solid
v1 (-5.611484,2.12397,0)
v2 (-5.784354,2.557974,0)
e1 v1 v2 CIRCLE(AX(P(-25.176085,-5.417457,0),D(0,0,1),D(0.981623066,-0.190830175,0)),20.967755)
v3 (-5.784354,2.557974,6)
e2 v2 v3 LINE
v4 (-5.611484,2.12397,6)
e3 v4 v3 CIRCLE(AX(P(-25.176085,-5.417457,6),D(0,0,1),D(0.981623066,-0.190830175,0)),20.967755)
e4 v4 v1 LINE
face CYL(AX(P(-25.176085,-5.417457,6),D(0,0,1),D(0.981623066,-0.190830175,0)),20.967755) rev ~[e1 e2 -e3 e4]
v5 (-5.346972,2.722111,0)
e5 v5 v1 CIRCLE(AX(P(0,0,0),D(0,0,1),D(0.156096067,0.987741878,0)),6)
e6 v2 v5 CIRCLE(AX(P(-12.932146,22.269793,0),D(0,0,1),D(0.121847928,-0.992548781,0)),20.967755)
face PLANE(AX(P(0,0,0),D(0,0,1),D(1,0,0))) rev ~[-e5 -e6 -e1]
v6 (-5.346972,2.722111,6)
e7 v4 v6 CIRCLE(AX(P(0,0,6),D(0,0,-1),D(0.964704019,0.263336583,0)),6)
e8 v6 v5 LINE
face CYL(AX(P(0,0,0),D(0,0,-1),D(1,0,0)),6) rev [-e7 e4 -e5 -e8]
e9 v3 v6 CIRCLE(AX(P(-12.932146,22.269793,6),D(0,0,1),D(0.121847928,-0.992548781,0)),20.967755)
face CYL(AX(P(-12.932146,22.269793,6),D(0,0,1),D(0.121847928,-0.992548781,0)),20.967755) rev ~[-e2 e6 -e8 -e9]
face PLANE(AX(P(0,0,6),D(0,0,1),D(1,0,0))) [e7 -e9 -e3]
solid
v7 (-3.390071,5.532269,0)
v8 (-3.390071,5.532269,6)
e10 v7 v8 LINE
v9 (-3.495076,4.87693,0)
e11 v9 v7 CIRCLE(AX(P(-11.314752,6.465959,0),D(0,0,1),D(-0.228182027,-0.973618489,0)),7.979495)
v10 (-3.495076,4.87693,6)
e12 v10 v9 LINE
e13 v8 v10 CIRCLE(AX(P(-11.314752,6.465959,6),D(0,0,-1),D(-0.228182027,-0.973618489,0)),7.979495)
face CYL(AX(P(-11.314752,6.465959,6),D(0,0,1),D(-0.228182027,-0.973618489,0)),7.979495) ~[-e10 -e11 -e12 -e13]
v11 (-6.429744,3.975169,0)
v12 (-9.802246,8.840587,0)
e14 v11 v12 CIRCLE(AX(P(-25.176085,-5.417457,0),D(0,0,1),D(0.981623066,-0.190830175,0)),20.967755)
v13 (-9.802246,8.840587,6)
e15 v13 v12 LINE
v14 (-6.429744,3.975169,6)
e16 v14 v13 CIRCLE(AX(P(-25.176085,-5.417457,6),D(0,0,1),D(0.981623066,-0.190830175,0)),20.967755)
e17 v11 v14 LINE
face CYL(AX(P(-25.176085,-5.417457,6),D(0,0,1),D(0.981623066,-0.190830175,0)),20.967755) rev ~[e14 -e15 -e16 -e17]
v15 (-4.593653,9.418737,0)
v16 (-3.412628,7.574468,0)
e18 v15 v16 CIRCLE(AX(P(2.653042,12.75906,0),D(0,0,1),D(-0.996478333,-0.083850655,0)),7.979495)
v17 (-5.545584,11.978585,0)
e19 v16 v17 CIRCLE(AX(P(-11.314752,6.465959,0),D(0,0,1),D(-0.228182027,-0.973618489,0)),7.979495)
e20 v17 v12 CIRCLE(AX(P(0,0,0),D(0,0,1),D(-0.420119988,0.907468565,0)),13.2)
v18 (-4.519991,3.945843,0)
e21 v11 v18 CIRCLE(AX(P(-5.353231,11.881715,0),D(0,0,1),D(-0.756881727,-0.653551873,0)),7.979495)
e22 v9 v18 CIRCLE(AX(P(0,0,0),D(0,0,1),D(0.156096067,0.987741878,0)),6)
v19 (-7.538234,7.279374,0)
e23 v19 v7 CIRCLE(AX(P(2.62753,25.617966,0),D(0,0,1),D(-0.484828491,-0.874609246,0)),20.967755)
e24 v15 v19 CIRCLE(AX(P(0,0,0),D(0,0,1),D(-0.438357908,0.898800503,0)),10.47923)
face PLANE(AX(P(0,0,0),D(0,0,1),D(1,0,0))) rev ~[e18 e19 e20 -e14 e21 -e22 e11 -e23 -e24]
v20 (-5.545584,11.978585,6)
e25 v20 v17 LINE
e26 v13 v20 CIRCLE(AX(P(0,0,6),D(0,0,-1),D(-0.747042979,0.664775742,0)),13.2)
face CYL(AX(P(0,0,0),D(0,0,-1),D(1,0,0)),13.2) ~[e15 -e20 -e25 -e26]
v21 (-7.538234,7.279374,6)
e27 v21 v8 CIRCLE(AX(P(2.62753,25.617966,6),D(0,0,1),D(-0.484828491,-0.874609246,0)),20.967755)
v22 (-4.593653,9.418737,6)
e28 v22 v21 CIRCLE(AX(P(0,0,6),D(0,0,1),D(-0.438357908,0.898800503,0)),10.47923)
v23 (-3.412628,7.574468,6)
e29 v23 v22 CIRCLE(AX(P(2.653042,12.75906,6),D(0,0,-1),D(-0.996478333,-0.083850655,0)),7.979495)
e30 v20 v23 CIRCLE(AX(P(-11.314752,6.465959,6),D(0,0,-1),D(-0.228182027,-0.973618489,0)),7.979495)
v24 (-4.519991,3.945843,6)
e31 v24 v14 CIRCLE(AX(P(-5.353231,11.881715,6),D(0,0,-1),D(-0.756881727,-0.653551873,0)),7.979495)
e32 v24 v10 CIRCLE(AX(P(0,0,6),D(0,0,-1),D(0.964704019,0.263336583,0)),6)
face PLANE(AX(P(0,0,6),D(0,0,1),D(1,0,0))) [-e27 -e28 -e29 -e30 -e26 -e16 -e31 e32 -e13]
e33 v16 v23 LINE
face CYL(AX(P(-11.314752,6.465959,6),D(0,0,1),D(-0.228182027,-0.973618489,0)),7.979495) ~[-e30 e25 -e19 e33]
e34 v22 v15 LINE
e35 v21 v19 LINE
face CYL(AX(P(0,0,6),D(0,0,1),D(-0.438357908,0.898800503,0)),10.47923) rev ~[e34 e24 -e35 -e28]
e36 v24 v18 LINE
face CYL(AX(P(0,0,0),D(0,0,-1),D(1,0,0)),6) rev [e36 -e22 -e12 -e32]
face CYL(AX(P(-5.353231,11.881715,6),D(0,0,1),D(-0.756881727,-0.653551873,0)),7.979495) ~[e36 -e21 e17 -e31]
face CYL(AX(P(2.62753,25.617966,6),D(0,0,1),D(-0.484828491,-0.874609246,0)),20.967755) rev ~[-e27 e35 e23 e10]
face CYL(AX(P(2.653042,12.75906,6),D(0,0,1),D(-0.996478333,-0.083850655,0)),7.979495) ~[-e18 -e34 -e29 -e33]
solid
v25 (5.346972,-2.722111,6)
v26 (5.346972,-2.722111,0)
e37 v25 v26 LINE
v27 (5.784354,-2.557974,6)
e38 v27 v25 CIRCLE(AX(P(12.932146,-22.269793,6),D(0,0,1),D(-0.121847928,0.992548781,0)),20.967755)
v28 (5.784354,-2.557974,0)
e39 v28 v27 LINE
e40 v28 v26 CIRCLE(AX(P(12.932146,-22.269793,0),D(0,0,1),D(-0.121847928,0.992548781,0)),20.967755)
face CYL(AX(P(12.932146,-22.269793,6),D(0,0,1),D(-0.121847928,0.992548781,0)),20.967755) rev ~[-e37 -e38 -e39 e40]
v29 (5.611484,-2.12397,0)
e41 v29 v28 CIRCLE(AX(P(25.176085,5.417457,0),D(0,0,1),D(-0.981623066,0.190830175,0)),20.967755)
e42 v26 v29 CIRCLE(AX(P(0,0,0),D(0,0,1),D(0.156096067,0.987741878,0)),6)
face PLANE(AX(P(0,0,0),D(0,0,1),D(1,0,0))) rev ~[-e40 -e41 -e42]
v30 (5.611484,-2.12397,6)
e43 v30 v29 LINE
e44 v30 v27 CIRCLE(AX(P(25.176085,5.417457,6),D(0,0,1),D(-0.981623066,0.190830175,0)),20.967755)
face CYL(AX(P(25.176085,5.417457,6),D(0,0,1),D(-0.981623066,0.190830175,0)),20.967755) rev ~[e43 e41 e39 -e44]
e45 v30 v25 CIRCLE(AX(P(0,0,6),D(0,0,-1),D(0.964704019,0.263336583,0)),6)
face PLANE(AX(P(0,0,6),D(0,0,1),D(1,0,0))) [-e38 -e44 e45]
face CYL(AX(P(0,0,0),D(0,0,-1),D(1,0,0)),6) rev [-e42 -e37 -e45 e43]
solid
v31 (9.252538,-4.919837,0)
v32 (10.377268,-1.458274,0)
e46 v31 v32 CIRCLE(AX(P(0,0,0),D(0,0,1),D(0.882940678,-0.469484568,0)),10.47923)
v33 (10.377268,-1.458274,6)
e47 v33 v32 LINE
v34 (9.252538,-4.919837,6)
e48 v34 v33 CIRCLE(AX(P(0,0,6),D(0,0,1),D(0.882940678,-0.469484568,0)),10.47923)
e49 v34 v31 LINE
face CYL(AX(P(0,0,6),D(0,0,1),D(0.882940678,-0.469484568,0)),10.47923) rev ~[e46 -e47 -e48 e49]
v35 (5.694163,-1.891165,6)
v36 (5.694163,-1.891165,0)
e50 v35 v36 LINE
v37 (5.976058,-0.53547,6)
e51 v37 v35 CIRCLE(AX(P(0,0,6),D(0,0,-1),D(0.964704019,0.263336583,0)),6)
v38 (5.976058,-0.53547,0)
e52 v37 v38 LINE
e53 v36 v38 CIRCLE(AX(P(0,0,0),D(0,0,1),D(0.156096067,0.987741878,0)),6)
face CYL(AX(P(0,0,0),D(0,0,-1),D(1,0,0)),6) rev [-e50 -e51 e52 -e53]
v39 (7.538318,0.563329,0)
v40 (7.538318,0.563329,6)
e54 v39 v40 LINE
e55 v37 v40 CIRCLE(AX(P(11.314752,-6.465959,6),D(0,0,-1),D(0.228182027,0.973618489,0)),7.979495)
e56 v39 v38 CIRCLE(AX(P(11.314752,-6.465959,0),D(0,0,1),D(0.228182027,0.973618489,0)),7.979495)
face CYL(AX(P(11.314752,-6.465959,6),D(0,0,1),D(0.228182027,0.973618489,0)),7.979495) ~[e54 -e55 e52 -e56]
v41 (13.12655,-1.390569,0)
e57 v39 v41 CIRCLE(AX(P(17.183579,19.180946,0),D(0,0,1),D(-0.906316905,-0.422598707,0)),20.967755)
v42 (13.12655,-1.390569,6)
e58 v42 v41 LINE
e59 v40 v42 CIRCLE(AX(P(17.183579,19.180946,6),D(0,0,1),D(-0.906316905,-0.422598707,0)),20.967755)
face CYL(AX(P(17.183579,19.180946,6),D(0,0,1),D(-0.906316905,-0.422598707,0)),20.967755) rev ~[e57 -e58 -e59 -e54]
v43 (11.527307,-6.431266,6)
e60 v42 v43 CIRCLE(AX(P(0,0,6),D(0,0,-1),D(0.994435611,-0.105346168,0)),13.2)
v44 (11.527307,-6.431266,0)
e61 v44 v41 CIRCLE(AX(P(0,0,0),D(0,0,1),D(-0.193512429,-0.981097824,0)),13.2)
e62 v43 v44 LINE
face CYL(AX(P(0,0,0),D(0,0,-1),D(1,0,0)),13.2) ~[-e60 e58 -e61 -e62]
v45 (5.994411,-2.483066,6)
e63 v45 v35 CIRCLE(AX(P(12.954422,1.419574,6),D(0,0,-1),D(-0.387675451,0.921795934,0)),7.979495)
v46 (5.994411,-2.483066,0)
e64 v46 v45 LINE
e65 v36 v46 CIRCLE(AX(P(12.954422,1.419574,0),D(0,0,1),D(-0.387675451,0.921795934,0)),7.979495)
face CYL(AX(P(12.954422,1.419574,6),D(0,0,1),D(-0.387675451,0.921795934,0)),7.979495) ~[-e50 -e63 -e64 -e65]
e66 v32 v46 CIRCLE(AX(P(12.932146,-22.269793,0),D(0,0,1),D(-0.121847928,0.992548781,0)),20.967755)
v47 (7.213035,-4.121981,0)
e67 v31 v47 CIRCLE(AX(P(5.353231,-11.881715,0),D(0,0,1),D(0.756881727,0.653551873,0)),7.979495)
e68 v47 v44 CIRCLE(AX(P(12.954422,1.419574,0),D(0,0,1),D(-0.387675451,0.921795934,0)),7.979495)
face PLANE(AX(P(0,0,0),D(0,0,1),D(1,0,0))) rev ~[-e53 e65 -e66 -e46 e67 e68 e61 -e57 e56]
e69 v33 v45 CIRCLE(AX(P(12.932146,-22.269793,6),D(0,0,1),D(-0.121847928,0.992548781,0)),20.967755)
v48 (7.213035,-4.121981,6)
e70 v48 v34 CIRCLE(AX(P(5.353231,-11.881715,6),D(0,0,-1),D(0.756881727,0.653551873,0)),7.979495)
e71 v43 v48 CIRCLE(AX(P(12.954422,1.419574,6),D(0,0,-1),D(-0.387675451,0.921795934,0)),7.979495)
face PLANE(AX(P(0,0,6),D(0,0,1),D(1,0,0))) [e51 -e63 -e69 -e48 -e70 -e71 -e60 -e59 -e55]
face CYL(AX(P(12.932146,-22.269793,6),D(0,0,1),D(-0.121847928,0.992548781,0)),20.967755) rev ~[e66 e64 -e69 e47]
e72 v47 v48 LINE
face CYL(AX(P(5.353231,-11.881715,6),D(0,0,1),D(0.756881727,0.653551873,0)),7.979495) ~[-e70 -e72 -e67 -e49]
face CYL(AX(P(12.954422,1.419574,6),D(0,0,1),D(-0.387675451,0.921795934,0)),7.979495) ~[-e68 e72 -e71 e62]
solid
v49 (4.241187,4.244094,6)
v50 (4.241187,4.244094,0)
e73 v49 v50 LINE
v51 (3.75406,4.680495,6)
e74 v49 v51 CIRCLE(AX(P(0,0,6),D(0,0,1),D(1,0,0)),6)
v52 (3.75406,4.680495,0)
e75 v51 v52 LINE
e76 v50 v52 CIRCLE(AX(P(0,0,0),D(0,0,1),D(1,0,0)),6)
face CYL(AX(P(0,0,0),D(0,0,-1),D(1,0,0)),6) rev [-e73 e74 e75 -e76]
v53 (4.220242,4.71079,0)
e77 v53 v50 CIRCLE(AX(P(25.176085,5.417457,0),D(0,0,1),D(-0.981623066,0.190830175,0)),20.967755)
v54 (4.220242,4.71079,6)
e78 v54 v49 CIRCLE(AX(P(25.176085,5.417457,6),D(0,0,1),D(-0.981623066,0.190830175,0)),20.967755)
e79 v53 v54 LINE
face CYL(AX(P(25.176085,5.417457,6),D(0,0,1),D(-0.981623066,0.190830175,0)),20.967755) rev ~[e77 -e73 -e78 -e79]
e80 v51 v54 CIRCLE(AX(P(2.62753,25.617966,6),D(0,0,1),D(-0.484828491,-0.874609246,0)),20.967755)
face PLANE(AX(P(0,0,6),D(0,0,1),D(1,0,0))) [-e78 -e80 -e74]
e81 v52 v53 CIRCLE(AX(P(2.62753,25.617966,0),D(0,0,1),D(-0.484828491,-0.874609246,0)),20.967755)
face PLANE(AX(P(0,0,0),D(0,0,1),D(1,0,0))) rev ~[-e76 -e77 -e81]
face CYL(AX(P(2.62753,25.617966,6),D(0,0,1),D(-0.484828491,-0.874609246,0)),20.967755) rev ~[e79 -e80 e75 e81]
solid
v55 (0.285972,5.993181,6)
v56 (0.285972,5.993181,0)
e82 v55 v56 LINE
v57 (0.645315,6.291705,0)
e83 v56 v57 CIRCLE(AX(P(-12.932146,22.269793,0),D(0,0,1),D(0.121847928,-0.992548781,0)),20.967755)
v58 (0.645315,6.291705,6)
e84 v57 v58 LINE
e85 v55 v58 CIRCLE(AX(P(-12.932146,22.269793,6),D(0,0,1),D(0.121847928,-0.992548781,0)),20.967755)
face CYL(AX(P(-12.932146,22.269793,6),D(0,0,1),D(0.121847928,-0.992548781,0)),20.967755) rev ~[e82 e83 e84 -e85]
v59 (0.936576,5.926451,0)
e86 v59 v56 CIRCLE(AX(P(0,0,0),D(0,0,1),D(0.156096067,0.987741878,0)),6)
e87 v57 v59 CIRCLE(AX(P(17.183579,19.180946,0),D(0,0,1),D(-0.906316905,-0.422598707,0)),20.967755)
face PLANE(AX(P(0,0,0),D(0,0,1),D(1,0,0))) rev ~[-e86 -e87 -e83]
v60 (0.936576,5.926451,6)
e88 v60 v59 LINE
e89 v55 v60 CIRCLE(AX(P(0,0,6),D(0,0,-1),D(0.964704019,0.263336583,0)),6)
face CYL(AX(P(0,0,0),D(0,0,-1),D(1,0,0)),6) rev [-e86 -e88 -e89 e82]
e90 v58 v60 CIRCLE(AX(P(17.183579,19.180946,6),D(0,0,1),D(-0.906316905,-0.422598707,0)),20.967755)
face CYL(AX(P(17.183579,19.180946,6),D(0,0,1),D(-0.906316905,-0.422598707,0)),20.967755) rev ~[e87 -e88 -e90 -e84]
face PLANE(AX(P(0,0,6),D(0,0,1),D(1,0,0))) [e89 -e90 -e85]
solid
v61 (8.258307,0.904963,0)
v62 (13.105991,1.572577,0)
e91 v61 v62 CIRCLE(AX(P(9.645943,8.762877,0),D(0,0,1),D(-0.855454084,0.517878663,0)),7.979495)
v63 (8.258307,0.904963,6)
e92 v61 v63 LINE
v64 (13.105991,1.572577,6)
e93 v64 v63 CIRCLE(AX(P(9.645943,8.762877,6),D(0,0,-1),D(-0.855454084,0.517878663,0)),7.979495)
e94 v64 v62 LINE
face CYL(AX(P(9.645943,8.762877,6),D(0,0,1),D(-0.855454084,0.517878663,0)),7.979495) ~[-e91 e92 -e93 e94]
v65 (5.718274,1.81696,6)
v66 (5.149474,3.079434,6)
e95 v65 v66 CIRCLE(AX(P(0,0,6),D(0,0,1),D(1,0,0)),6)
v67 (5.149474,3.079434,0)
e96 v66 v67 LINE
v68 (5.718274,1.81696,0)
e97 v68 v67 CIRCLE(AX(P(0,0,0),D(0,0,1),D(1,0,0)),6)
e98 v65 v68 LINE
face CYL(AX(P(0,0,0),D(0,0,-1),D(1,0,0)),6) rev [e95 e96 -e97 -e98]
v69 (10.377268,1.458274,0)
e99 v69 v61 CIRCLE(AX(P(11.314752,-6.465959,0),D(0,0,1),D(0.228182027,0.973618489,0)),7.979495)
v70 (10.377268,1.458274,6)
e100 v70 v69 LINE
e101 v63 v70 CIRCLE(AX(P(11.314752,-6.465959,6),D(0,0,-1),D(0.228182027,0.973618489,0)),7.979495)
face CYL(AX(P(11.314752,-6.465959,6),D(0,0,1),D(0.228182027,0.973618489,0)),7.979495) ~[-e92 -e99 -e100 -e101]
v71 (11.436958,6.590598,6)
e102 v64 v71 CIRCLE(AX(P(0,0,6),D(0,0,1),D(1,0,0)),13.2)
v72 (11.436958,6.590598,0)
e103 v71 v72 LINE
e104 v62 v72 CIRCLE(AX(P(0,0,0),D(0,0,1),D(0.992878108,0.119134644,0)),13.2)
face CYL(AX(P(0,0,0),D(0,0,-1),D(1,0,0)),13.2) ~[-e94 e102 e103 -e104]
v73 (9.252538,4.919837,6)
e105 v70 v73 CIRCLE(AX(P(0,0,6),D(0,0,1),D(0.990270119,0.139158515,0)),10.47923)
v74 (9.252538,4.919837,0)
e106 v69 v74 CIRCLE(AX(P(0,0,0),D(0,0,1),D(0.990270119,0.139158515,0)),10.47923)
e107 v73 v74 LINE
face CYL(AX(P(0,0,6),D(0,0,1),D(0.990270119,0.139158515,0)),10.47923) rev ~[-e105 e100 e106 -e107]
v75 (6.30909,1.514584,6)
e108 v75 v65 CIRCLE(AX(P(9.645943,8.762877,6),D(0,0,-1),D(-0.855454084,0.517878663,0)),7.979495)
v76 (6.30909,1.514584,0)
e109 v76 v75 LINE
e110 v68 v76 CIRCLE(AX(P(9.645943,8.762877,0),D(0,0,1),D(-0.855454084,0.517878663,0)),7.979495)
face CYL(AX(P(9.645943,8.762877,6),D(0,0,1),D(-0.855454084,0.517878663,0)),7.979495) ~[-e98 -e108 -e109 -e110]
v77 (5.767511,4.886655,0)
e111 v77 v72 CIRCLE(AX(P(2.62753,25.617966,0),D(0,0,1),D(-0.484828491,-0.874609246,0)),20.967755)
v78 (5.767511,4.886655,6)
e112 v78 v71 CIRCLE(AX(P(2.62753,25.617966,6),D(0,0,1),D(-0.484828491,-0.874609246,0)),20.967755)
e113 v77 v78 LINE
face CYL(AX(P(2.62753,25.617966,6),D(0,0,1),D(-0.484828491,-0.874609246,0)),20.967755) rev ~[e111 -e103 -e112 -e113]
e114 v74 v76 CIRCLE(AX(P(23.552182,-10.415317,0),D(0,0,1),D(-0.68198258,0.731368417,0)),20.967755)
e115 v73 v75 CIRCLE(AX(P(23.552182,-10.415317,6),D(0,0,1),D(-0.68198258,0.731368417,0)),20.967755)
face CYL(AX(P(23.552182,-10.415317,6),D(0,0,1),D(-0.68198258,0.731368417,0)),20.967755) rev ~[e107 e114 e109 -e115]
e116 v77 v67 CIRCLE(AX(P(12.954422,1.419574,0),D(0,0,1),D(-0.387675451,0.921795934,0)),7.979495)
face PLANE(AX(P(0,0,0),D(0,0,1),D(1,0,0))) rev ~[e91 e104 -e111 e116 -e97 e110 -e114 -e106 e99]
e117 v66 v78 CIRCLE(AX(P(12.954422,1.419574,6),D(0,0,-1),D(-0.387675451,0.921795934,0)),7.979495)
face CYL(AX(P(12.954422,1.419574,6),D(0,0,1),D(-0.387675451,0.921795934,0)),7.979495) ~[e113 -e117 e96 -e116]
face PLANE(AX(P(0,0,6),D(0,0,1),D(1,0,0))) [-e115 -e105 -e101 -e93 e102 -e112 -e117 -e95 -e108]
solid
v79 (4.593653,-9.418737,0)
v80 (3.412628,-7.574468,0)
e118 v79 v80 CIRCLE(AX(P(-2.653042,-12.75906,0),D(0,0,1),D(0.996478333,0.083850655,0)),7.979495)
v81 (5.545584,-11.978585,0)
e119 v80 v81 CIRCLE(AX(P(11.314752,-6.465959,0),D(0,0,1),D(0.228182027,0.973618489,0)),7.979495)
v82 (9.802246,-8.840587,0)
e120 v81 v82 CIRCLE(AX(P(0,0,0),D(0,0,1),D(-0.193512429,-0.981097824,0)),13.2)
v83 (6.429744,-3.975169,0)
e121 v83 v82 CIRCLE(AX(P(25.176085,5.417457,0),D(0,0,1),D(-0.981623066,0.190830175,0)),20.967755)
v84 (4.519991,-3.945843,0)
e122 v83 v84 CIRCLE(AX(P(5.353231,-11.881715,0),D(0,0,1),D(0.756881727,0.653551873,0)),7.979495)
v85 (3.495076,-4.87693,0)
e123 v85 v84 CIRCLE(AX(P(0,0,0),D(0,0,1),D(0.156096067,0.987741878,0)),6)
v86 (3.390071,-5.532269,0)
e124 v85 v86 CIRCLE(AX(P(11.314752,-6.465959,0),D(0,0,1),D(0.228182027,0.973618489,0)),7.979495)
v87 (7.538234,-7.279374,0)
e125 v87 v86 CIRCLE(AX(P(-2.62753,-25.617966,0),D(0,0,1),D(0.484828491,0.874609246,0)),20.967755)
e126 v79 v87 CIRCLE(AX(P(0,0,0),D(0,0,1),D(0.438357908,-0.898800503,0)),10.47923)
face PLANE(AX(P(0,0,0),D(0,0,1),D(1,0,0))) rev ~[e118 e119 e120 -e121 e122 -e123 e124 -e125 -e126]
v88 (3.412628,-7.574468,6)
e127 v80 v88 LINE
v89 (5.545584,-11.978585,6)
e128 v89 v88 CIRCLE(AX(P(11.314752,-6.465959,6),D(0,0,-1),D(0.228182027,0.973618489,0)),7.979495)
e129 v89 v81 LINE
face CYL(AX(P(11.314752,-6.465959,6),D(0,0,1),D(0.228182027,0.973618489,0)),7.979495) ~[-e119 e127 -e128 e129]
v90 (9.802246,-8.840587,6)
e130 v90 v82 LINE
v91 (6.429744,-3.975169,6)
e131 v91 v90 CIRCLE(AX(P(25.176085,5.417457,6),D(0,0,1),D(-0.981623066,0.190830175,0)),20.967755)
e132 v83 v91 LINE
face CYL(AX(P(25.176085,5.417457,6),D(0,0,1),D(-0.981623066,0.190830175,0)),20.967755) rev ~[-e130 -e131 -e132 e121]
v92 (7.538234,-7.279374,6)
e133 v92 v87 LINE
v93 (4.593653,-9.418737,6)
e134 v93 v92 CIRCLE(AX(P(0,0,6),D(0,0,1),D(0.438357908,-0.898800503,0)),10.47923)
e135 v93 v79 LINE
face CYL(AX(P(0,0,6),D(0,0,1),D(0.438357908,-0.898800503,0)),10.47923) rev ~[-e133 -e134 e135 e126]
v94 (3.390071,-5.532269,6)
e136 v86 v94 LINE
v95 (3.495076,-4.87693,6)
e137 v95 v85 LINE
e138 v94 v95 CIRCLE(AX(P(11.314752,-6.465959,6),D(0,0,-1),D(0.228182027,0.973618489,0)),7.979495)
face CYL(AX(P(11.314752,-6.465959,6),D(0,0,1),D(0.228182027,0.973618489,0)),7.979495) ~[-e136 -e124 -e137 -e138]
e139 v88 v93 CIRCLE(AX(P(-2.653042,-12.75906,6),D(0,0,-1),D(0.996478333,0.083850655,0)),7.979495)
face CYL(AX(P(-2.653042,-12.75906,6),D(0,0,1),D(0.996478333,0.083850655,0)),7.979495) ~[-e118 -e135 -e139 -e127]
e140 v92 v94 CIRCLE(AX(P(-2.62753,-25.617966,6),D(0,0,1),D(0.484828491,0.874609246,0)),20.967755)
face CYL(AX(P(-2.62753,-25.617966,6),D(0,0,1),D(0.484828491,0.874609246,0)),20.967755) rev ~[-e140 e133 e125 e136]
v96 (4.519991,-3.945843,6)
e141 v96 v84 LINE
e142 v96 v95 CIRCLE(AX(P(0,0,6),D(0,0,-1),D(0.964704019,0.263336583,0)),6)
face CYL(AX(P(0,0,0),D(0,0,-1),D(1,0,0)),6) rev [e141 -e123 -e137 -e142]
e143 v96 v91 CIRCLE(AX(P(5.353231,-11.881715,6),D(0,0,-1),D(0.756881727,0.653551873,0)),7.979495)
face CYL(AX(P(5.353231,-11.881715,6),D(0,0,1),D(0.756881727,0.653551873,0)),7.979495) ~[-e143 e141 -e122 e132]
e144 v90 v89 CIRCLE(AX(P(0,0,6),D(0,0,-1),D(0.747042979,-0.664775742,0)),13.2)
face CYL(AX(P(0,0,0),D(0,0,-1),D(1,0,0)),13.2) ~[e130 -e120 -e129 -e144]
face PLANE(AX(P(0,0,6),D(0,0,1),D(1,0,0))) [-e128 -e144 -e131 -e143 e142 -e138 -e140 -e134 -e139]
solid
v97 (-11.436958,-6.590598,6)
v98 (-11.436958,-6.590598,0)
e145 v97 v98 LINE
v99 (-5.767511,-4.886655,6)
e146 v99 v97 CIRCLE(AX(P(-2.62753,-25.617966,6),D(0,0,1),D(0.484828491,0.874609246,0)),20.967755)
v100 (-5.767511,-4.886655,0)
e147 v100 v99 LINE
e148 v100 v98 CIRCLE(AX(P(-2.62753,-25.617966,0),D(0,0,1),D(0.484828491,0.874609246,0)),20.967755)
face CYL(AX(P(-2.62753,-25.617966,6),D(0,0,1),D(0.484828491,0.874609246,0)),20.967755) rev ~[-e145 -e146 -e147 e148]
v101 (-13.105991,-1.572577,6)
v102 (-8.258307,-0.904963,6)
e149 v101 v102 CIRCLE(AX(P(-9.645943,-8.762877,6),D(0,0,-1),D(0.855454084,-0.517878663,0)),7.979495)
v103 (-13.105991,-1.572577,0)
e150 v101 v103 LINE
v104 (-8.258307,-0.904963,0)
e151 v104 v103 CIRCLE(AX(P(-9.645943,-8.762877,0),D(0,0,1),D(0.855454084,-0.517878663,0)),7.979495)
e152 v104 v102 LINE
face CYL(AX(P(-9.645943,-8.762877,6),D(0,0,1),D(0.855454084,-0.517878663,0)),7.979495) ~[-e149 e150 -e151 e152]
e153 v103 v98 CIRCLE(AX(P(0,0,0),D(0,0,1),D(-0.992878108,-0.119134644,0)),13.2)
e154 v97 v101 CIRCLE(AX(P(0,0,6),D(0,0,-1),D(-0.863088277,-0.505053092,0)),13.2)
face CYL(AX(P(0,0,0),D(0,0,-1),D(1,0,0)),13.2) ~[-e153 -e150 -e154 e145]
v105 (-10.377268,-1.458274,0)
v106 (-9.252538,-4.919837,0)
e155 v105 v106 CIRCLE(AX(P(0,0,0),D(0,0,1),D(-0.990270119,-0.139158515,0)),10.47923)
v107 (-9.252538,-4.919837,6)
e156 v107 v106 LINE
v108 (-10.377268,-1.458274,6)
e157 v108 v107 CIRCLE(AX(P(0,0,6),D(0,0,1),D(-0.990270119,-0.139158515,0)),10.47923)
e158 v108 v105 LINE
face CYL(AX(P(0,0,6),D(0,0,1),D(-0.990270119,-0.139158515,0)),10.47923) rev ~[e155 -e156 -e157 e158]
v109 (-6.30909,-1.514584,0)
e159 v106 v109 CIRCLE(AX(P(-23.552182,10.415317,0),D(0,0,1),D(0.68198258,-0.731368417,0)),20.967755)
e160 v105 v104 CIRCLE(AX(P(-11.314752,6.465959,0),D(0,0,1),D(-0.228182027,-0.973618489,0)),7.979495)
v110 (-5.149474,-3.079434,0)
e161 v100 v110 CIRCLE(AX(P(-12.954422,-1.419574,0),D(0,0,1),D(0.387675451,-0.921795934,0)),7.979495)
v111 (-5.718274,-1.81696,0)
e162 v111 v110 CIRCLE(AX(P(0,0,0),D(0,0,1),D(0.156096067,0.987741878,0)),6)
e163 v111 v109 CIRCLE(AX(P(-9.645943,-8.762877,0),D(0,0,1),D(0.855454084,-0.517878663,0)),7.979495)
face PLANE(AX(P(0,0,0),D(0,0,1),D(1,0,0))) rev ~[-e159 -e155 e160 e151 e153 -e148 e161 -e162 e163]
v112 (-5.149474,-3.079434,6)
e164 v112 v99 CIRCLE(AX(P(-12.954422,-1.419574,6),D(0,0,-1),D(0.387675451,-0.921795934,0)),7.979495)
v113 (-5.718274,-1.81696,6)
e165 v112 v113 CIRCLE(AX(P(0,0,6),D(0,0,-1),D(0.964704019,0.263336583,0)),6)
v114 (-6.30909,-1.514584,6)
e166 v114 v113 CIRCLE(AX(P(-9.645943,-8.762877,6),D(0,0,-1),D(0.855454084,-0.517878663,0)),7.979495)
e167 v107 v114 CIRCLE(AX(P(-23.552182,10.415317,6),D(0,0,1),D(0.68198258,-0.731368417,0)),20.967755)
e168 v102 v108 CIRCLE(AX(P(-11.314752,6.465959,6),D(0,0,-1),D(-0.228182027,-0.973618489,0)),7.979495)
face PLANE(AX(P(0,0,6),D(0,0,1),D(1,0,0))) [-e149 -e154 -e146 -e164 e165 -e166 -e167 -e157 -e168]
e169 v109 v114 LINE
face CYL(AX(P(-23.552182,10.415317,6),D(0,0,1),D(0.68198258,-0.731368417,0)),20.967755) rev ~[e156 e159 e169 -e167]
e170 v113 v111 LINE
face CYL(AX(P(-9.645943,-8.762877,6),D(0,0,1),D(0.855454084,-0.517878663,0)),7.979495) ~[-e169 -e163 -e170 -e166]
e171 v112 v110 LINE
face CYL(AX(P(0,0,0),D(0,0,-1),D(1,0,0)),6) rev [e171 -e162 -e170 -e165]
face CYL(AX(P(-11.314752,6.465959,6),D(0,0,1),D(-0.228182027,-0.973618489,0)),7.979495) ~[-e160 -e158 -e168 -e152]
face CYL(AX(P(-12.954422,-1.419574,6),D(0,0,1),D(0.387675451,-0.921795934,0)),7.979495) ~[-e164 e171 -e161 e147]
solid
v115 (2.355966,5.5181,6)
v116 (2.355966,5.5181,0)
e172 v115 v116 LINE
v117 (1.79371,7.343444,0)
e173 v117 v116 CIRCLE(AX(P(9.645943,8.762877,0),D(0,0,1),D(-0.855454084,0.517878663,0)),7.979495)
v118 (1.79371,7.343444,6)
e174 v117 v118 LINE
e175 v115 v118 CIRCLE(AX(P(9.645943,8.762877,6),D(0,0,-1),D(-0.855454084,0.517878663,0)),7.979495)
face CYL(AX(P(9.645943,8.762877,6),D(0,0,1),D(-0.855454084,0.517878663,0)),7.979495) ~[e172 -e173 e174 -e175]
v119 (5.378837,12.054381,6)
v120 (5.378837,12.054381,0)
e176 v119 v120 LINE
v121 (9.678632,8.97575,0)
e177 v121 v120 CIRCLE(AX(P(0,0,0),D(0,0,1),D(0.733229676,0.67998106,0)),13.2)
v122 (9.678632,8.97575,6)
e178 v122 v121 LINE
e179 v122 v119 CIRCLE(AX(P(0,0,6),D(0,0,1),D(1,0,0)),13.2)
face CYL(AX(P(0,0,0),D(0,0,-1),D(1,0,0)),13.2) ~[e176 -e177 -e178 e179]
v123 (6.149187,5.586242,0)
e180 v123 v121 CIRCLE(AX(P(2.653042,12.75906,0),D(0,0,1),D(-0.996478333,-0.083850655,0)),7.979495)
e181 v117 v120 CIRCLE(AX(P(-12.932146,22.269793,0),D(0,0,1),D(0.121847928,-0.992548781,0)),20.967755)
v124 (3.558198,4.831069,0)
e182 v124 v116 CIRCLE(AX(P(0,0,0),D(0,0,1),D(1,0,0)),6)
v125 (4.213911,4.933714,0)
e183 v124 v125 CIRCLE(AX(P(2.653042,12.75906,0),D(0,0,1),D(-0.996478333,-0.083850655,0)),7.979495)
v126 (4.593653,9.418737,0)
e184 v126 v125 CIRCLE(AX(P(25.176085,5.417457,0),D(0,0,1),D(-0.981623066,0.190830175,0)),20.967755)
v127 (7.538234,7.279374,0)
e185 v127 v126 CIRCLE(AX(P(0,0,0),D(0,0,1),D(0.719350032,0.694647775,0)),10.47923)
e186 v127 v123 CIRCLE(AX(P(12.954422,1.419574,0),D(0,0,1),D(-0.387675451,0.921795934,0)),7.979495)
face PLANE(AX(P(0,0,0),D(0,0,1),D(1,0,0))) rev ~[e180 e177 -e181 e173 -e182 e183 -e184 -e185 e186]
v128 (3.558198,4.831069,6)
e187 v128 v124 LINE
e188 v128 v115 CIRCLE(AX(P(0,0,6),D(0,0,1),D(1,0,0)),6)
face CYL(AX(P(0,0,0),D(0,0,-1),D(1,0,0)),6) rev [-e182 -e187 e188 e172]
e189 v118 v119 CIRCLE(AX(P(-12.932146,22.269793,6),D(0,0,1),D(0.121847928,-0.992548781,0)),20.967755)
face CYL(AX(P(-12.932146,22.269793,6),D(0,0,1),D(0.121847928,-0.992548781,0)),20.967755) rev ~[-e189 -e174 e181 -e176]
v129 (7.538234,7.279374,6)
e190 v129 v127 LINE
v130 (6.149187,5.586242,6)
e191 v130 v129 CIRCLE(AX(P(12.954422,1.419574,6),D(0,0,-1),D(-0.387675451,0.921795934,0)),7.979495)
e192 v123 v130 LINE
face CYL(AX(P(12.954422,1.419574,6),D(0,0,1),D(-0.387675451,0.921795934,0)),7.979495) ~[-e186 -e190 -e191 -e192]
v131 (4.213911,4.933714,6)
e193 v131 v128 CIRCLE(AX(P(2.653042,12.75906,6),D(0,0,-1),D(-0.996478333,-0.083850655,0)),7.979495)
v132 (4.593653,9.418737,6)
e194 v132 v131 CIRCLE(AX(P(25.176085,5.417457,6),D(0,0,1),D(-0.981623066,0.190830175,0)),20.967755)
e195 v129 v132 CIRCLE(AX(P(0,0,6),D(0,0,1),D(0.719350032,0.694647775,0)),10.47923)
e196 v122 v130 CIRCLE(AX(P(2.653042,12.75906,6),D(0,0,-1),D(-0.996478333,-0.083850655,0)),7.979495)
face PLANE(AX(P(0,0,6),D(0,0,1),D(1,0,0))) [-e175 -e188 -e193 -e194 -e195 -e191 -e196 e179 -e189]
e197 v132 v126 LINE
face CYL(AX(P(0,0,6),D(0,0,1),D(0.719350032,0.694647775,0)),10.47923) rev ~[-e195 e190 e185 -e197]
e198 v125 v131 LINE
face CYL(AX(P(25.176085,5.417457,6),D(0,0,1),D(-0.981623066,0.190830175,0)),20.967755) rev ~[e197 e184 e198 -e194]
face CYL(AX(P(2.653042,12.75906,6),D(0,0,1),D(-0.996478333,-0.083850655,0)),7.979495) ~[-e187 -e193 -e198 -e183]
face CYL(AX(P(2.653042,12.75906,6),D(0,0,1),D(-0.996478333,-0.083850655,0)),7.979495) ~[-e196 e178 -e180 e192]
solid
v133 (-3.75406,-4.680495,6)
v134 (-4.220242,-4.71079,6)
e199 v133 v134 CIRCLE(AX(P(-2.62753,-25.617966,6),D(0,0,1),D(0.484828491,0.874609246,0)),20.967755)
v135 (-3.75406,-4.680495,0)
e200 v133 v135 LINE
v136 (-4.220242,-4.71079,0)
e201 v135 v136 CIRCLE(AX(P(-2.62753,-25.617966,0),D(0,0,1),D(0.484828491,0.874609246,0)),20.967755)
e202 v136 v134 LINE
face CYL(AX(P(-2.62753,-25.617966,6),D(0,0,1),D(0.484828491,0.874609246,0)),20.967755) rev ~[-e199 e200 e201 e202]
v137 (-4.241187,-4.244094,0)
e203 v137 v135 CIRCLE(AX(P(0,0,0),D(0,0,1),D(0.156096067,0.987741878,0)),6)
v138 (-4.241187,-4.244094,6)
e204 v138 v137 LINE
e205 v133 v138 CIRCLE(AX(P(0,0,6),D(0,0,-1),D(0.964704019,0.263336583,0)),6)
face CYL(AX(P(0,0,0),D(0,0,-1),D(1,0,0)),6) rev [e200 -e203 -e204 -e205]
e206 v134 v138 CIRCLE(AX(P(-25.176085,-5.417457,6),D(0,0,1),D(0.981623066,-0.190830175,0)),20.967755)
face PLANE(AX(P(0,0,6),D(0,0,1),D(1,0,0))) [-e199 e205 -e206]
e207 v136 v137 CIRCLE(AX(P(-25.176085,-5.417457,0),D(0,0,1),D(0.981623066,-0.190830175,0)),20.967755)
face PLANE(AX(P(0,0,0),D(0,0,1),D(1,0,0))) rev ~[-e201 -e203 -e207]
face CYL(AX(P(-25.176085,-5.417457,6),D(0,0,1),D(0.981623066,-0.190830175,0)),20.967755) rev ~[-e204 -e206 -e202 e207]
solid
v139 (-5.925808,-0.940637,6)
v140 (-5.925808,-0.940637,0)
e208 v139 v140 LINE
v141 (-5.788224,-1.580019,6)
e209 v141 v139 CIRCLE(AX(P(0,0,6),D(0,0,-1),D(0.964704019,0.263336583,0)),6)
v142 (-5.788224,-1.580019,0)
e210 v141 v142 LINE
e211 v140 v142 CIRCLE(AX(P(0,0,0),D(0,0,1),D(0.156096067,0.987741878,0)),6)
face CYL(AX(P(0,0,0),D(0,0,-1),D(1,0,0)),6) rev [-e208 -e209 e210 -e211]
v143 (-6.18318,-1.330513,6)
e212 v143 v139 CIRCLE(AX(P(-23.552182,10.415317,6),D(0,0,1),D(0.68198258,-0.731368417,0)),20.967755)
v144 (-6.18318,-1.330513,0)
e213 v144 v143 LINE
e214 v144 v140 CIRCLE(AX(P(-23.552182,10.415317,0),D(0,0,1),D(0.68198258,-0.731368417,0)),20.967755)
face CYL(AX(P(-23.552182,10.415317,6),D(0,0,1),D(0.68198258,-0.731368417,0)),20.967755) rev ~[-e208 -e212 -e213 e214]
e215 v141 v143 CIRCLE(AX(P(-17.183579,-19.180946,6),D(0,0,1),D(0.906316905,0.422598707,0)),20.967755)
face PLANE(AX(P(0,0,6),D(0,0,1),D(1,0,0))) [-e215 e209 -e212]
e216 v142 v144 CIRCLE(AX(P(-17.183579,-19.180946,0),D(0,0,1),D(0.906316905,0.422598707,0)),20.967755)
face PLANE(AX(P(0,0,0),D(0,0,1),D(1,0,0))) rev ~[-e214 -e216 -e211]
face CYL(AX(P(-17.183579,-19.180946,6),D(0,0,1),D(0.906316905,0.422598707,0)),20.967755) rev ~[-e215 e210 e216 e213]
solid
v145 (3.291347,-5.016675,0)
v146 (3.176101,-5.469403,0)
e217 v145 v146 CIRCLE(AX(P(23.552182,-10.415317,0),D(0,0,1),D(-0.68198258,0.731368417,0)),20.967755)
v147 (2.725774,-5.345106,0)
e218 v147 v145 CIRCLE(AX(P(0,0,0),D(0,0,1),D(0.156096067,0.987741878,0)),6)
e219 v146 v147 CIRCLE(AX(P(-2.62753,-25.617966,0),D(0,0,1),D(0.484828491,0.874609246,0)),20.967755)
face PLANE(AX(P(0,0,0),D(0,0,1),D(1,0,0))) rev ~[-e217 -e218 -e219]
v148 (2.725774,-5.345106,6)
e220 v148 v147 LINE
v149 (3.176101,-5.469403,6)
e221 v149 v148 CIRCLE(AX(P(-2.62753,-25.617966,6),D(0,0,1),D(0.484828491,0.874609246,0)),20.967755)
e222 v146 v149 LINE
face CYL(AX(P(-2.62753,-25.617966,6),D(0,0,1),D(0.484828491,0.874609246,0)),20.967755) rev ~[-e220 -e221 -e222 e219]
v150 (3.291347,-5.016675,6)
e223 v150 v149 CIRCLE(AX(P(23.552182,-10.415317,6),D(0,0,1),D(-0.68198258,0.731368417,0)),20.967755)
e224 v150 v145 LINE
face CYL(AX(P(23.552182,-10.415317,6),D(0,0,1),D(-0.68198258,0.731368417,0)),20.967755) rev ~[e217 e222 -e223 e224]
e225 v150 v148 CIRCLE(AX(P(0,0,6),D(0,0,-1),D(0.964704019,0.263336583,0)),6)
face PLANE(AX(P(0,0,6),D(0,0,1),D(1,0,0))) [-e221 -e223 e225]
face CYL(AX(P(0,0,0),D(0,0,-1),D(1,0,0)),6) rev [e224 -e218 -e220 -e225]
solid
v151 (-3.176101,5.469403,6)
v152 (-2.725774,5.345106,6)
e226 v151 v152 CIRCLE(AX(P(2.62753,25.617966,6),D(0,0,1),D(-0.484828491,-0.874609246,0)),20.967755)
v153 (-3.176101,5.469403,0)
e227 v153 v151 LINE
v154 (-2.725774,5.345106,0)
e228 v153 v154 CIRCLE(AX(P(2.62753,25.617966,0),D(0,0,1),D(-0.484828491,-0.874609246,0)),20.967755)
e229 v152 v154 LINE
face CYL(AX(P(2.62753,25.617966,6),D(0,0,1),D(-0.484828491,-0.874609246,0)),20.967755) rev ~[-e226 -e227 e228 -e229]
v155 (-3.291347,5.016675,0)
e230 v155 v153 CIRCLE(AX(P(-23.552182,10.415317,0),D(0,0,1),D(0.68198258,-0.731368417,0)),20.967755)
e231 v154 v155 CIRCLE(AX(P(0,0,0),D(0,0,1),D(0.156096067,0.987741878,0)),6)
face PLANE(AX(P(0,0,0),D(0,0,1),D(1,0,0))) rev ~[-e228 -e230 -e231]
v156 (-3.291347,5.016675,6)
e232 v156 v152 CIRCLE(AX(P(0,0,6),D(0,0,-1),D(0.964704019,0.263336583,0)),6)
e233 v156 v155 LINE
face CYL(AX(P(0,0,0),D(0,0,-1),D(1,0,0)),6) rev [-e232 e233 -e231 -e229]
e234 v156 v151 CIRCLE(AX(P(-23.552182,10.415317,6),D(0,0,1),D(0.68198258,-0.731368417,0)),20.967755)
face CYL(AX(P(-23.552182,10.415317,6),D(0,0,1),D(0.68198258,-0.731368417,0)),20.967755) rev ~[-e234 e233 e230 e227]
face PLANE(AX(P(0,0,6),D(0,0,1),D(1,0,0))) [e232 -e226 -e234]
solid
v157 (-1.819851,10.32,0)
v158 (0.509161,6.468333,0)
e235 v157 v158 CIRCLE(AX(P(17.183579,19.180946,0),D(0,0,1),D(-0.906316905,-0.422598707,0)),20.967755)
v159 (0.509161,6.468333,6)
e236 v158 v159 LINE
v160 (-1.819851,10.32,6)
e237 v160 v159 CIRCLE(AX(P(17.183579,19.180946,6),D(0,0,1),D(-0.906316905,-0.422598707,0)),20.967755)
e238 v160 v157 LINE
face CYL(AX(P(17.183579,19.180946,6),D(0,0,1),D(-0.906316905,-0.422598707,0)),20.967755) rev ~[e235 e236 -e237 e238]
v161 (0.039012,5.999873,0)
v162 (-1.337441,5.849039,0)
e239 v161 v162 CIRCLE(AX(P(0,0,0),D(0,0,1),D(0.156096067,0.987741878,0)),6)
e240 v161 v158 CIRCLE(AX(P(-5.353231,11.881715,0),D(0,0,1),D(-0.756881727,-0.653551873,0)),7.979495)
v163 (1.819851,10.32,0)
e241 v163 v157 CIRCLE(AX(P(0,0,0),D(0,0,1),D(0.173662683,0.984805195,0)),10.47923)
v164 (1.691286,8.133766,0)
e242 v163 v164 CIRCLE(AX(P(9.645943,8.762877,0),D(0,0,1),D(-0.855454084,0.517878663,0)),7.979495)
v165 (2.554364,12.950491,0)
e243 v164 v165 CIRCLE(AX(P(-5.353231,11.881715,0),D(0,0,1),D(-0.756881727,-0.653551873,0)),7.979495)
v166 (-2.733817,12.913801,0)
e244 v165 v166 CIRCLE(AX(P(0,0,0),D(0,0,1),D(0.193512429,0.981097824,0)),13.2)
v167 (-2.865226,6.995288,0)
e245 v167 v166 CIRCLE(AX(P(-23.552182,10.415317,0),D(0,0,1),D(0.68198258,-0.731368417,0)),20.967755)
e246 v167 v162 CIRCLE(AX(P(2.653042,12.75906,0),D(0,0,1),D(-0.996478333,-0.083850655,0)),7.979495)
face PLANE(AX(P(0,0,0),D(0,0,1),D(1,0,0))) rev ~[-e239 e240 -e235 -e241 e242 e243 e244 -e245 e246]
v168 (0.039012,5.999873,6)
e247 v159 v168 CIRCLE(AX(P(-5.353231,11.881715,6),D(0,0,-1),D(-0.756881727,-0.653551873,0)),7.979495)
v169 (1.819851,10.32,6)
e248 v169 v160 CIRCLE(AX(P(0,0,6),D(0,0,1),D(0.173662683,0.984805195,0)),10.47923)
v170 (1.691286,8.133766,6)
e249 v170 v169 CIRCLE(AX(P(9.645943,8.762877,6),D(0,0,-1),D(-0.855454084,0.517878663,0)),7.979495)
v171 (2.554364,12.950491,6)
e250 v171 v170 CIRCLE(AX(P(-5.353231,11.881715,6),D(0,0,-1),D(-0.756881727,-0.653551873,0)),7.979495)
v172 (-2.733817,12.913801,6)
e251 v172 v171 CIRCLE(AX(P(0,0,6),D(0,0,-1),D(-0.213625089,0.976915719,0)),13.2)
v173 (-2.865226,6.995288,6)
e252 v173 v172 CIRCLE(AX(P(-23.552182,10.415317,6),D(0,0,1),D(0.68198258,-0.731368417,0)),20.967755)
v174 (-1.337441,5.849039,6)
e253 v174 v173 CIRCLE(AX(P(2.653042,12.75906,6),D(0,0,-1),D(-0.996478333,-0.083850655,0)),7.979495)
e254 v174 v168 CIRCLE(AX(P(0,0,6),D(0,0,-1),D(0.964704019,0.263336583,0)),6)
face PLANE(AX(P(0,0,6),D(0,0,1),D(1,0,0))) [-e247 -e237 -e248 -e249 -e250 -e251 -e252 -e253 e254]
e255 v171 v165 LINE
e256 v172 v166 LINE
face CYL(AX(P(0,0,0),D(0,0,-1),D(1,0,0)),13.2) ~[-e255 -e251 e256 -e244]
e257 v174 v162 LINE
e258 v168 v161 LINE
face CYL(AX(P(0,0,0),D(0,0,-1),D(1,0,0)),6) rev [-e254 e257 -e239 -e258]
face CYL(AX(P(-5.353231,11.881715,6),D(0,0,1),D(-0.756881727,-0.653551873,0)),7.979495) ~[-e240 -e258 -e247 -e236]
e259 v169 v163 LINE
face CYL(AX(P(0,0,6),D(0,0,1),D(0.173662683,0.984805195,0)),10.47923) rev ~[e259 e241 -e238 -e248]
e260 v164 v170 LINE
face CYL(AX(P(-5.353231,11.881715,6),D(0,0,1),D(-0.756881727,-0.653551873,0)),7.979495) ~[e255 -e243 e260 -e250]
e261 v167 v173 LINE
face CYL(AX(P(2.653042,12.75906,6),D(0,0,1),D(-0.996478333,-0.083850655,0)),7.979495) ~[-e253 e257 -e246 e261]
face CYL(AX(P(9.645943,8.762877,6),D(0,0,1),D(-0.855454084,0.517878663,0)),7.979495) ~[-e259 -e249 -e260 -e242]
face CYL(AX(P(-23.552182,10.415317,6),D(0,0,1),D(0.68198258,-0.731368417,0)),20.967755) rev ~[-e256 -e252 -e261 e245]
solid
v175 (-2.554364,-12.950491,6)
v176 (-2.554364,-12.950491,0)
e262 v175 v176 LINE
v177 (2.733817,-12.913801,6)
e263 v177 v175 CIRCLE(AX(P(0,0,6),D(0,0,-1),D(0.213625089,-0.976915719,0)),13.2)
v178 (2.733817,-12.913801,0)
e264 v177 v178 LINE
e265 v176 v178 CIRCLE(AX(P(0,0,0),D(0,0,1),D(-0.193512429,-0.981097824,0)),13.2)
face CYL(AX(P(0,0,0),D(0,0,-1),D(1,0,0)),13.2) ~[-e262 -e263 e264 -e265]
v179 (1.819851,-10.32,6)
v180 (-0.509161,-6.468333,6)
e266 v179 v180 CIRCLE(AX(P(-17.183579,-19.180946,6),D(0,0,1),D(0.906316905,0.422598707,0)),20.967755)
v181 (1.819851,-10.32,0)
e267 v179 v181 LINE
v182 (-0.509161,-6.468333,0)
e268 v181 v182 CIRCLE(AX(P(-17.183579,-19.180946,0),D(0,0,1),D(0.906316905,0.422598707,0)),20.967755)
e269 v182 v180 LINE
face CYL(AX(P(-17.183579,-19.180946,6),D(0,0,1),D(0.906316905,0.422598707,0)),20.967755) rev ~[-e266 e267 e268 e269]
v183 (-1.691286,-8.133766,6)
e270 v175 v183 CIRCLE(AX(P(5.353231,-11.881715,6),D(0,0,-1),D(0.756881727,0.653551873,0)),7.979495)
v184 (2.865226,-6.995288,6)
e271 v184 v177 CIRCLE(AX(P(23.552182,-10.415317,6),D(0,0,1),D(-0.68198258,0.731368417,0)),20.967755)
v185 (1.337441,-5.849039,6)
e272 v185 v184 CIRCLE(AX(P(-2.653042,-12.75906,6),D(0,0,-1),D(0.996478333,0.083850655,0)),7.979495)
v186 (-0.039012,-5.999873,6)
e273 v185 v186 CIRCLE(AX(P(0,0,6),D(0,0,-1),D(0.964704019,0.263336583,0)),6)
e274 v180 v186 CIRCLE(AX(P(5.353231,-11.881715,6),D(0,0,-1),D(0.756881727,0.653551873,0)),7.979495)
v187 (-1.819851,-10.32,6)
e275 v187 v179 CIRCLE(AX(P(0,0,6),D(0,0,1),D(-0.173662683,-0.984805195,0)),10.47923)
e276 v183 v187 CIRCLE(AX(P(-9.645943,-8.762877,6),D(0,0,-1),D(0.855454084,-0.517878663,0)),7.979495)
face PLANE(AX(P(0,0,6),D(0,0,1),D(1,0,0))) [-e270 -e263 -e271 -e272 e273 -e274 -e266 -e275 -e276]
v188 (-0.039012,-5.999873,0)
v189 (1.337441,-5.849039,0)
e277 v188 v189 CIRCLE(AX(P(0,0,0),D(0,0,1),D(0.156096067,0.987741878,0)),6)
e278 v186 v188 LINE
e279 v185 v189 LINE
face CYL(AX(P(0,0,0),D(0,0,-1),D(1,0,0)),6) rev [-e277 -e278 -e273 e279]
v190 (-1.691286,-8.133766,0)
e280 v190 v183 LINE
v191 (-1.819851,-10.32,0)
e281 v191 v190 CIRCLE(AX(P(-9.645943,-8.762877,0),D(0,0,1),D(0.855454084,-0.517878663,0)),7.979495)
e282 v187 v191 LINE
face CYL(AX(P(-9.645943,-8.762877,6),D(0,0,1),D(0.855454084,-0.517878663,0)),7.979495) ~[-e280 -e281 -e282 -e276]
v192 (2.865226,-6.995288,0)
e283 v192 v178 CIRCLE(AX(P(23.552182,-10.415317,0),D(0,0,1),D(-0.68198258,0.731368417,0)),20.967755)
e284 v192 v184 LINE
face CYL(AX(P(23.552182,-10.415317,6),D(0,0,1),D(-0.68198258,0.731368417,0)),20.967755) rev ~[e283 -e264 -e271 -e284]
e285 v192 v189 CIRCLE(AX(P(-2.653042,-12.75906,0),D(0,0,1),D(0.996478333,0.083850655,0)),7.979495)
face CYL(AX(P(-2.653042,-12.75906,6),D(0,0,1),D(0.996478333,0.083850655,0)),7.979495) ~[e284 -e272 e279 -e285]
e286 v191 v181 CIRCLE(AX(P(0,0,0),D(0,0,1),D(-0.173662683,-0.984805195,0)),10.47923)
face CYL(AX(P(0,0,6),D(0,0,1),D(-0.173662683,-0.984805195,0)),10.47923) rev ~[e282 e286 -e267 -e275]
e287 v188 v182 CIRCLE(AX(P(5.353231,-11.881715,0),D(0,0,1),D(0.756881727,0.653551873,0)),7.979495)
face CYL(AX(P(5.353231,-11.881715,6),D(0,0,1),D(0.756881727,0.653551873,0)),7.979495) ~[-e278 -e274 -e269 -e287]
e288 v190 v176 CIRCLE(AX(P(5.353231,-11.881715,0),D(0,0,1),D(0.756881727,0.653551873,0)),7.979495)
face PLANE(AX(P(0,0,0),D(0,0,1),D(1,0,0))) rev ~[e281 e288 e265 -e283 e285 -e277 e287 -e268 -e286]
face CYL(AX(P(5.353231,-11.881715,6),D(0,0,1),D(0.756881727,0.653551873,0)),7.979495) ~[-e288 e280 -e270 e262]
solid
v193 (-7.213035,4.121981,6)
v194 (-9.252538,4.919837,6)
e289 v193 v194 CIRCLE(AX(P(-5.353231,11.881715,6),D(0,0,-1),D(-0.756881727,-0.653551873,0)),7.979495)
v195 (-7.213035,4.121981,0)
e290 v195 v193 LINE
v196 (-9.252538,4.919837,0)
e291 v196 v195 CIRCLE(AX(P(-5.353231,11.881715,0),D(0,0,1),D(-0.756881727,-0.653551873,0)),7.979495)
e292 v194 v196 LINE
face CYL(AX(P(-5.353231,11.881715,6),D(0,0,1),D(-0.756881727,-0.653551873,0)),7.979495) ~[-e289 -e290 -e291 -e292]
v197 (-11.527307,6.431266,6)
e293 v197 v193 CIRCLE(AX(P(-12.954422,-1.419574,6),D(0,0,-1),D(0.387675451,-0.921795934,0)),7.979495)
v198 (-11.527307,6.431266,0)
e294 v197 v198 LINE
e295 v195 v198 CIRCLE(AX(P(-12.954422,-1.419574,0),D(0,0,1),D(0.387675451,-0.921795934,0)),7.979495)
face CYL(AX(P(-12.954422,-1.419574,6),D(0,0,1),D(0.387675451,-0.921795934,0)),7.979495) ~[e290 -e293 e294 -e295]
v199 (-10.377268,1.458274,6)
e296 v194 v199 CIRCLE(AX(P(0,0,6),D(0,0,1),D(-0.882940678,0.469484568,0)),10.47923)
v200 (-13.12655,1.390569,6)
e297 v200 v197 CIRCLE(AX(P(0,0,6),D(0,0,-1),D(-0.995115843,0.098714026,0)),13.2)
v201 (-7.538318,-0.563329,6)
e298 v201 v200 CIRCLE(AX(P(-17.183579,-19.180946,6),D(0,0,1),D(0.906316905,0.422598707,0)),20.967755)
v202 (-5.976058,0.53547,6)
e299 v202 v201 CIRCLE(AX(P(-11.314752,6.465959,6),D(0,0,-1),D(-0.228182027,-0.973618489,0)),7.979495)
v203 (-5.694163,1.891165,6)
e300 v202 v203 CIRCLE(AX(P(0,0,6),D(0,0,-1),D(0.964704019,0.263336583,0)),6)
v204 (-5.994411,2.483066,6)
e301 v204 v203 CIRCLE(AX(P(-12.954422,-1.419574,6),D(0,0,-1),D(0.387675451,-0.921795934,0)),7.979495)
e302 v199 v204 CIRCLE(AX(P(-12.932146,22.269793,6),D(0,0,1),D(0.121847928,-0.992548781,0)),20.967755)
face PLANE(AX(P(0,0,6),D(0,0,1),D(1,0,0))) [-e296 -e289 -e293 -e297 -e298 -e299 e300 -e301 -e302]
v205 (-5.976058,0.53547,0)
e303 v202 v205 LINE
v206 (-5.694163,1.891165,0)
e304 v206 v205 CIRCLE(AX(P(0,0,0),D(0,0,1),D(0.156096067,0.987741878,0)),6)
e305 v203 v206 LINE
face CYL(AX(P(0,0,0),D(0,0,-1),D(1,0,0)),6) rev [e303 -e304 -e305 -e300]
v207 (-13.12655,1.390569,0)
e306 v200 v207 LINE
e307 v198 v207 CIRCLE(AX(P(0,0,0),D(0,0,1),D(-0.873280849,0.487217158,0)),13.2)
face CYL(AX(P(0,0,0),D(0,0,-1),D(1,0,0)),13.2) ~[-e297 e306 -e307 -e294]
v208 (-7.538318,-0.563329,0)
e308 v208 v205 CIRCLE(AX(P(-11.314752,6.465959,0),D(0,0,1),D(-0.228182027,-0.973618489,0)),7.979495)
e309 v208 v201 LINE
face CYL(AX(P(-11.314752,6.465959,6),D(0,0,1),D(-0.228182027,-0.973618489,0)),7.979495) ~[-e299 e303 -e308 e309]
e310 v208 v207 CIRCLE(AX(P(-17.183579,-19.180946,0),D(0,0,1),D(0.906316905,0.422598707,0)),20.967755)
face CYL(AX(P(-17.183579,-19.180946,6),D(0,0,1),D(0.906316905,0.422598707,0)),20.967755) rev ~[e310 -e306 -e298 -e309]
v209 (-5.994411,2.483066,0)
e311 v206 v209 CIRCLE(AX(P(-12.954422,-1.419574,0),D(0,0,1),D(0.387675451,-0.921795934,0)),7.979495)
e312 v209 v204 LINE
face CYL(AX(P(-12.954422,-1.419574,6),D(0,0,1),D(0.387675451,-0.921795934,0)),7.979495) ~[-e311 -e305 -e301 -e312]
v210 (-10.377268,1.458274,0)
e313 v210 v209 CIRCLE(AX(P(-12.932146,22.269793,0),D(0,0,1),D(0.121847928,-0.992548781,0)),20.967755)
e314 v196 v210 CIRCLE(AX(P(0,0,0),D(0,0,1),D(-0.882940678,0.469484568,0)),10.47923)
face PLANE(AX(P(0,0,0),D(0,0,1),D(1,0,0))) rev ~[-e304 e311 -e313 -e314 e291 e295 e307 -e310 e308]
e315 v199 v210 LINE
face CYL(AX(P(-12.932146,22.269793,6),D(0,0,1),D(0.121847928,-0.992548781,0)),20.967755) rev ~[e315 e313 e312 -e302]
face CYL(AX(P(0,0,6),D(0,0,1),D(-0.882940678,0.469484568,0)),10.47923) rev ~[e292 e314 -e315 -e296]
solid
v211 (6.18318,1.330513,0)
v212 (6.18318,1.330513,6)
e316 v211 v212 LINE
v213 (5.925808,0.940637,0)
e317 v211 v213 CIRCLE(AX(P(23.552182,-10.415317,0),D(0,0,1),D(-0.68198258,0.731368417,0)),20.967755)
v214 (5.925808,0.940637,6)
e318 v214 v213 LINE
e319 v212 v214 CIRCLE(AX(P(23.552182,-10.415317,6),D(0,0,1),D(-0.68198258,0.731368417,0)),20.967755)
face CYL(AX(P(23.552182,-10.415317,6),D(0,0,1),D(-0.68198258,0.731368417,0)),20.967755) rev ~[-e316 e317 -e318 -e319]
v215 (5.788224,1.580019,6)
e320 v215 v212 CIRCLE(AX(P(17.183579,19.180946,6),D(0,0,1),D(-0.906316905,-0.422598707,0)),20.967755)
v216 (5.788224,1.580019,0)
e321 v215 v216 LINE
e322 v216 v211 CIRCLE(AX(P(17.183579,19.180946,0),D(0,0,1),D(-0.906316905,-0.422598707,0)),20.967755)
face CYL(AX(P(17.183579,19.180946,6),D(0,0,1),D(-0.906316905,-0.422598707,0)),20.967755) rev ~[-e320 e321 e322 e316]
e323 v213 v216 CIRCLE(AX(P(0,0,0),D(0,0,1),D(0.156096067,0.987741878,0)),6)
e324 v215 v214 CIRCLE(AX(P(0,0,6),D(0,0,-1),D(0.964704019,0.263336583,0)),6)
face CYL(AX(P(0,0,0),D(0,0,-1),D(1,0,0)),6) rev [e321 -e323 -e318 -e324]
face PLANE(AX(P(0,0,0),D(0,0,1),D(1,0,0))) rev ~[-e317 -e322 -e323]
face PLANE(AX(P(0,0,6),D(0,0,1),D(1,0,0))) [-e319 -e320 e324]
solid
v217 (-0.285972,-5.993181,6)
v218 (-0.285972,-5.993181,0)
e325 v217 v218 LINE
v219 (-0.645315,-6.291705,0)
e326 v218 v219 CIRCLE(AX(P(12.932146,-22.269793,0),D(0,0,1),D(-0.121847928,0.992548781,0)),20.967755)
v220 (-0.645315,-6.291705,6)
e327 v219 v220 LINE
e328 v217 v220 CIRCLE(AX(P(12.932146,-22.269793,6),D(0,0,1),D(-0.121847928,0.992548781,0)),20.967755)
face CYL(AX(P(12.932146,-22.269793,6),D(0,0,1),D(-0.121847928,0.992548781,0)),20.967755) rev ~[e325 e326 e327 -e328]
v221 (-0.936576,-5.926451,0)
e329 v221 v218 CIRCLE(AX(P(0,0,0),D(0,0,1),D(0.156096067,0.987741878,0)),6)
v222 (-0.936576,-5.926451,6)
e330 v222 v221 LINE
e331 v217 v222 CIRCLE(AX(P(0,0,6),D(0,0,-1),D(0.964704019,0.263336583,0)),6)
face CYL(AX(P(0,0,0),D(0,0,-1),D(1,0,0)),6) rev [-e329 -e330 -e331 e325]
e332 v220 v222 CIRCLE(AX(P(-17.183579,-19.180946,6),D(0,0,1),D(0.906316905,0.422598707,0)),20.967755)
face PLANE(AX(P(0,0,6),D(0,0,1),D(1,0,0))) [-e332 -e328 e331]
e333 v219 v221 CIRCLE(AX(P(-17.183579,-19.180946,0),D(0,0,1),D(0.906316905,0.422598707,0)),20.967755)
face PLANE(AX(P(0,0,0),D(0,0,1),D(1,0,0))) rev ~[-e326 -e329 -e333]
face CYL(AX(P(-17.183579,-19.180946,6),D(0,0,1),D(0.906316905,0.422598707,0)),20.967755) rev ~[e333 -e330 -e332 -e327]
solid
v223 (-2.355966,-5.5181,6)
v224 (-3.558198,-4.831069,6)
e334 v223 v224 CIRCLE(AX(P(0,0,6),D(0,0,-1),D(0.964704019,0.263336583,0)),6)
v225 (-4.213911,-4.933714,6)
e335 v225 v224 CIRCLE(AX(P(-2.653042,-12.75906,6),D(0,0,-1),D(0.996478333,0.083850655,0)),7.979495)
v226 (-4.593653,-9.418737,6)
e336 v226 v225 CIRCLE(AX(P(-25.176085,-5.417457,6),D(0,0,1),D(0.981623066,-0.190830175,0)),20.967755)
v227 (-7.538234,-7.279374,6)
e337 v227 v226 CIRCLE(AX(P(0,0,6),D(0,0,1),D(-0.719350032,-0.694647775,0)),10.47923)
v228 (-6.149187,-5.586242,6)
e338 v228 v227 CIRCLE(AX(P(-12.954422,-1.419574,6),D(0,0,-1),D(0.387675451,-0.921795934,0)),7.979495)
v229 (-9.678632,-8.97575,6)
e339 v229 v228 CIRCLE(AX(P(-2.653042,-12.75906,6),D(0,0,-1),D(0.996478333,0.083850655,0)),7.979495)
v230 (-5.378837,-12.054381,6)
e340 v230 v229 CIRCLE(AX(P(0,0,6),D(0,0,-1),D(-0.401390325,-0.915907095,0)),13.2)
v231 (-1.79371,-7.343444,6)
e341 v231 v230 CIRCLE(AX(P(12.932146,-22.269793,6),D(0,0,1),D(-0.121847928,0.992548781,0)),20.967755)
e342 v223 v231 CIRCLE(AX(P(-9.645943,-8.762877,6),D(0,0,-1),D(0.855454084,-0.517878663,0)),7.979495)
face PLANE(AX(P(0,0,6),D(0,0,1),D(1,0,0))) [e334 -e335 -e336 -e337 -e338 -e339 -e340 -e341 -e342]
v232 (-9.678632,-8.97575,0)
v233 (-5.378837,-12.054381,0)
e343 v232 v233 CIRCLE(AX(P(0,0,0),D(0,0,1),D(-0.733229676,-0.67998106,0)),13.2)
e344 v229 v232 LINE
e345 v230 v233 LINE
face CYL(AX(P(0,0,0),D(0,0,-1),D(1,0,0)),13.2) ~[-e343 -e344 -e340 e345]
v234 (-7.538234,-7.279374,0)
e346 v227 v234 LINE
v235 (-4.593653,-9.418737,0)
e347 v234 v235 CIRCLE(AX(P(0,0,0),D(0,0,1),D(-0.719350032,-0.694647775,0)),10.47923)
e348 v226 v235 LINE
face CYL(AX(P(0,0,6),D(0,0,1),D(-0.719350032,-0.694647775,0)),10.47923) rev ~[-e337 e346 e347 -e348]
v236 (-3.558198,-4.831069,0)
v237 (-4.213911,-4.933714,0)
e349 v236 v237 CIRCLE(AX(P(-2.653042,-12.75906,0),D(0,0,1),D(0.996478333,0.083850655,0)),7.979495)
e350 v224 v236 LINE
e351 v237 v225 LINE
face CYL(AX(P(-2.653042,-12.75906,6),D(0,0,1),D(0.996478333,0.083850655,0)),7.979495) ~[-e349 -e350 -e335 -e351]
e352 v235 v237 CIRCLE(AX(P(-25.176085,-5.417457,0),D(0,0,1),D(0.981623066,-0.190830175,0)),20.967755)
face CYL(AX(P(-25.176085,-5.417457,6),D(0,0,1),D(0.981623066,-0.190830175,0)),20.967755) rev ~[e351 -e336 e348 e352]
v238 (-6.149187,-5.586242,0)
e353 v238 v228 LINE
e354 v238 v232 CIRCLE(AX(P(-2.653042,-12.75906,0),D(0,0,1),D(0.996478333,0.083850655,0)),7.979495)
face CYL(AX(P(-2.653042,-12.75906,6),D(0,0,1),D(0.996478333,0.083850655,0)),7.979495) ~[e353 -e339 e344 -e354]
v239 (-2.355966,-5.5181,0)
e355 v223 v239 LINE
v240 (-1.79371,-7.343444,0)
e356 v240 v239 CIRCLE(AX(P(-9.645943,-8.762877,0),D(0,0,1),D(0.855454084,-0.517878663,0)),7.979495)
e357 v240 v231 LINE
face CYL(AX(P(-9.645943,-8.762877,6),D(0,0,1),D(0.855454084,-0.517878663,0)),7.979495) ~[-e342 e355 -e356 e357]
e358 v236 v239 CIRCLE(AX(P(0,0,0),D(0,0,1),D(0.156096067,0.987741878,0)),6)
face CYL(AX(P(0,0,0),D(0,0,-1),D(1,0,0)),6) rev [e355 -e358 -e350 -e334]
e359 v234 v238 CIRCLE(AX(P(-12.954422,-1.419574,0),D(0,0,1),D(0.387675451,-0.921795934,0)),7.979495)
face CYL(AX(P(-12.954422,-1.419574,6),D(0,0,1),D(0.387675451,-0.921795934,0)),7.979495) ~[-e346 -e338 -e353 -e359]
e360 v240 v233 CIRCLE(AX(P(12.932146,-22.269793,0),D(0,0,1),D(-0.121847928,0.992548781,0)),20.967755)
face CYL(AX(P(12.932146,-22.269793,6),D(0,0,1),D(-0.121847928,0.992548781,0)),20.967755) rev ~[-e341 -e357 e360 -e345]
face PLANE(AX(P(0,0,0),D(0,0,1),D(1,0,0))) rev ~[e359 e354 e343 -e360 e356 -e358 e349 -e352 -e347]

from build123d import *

# Parameters (mm, degrees)
SKETCH1_R           = 13.2
SKETCH1_R_2         = 6
BOSS_EXTRUDE1_DEPTH = 6
CUT_EXTRUDE1_DEPTH  = 7
CIRPATTERN1_COUNT   = 10


with BuildPart() as part:
    # Sketch1 → Boss-Extrude1 (new body)
    with BuildSketch(Plane.XY):
        Circle(SKETCH1_R)
        Circle(SKETCH1_R_2, mode=Mode.SUBTRACT)
    extrude(amount=BOSS_EXTRUDE1_DEPTH)

    # Sketch2 → Cut-Extrude1 (cut, through all)
    with BuildSketch(Plane.XY.offset(6)):
        with BuildLine():
            ThreePointArc((-2.819851171, 12.895287487), (0, 13.2), (2.819851171, 12.895287487))
            ThreePointArc((2.819851171, 12.895287487), (17.084333094, 5.874504435), (1.819851171, 10.32))
            ThreePointArc((1.819851171, 10.32), (0, 10.479229852), (-1.819851171, 10.32))
            ThreePointArc((-1.819851171, 10.32), (36.729469452, 26.770735562), (-2.819851171, 12.895287487))
        make_face()
    cut_extrude1 = extrude(amount=-CUT_EXTRUDE1_DEPTH, mode=Mode.SUBTRACT)

    # CirPattern1: Cut-Extrude1 ×10 about axis
    cirpattern1_axis = Axis((0, 0, 0), (0, 0, 1))
    for i in range(1, CIRPATTERN1_COUNT):
        add(cut_extrude1.rotate(cirpattern1_axis, i * 360 / CIRPATTERN1_COUNT), mode=Mode.SUBTRACT)


solid = part.part
